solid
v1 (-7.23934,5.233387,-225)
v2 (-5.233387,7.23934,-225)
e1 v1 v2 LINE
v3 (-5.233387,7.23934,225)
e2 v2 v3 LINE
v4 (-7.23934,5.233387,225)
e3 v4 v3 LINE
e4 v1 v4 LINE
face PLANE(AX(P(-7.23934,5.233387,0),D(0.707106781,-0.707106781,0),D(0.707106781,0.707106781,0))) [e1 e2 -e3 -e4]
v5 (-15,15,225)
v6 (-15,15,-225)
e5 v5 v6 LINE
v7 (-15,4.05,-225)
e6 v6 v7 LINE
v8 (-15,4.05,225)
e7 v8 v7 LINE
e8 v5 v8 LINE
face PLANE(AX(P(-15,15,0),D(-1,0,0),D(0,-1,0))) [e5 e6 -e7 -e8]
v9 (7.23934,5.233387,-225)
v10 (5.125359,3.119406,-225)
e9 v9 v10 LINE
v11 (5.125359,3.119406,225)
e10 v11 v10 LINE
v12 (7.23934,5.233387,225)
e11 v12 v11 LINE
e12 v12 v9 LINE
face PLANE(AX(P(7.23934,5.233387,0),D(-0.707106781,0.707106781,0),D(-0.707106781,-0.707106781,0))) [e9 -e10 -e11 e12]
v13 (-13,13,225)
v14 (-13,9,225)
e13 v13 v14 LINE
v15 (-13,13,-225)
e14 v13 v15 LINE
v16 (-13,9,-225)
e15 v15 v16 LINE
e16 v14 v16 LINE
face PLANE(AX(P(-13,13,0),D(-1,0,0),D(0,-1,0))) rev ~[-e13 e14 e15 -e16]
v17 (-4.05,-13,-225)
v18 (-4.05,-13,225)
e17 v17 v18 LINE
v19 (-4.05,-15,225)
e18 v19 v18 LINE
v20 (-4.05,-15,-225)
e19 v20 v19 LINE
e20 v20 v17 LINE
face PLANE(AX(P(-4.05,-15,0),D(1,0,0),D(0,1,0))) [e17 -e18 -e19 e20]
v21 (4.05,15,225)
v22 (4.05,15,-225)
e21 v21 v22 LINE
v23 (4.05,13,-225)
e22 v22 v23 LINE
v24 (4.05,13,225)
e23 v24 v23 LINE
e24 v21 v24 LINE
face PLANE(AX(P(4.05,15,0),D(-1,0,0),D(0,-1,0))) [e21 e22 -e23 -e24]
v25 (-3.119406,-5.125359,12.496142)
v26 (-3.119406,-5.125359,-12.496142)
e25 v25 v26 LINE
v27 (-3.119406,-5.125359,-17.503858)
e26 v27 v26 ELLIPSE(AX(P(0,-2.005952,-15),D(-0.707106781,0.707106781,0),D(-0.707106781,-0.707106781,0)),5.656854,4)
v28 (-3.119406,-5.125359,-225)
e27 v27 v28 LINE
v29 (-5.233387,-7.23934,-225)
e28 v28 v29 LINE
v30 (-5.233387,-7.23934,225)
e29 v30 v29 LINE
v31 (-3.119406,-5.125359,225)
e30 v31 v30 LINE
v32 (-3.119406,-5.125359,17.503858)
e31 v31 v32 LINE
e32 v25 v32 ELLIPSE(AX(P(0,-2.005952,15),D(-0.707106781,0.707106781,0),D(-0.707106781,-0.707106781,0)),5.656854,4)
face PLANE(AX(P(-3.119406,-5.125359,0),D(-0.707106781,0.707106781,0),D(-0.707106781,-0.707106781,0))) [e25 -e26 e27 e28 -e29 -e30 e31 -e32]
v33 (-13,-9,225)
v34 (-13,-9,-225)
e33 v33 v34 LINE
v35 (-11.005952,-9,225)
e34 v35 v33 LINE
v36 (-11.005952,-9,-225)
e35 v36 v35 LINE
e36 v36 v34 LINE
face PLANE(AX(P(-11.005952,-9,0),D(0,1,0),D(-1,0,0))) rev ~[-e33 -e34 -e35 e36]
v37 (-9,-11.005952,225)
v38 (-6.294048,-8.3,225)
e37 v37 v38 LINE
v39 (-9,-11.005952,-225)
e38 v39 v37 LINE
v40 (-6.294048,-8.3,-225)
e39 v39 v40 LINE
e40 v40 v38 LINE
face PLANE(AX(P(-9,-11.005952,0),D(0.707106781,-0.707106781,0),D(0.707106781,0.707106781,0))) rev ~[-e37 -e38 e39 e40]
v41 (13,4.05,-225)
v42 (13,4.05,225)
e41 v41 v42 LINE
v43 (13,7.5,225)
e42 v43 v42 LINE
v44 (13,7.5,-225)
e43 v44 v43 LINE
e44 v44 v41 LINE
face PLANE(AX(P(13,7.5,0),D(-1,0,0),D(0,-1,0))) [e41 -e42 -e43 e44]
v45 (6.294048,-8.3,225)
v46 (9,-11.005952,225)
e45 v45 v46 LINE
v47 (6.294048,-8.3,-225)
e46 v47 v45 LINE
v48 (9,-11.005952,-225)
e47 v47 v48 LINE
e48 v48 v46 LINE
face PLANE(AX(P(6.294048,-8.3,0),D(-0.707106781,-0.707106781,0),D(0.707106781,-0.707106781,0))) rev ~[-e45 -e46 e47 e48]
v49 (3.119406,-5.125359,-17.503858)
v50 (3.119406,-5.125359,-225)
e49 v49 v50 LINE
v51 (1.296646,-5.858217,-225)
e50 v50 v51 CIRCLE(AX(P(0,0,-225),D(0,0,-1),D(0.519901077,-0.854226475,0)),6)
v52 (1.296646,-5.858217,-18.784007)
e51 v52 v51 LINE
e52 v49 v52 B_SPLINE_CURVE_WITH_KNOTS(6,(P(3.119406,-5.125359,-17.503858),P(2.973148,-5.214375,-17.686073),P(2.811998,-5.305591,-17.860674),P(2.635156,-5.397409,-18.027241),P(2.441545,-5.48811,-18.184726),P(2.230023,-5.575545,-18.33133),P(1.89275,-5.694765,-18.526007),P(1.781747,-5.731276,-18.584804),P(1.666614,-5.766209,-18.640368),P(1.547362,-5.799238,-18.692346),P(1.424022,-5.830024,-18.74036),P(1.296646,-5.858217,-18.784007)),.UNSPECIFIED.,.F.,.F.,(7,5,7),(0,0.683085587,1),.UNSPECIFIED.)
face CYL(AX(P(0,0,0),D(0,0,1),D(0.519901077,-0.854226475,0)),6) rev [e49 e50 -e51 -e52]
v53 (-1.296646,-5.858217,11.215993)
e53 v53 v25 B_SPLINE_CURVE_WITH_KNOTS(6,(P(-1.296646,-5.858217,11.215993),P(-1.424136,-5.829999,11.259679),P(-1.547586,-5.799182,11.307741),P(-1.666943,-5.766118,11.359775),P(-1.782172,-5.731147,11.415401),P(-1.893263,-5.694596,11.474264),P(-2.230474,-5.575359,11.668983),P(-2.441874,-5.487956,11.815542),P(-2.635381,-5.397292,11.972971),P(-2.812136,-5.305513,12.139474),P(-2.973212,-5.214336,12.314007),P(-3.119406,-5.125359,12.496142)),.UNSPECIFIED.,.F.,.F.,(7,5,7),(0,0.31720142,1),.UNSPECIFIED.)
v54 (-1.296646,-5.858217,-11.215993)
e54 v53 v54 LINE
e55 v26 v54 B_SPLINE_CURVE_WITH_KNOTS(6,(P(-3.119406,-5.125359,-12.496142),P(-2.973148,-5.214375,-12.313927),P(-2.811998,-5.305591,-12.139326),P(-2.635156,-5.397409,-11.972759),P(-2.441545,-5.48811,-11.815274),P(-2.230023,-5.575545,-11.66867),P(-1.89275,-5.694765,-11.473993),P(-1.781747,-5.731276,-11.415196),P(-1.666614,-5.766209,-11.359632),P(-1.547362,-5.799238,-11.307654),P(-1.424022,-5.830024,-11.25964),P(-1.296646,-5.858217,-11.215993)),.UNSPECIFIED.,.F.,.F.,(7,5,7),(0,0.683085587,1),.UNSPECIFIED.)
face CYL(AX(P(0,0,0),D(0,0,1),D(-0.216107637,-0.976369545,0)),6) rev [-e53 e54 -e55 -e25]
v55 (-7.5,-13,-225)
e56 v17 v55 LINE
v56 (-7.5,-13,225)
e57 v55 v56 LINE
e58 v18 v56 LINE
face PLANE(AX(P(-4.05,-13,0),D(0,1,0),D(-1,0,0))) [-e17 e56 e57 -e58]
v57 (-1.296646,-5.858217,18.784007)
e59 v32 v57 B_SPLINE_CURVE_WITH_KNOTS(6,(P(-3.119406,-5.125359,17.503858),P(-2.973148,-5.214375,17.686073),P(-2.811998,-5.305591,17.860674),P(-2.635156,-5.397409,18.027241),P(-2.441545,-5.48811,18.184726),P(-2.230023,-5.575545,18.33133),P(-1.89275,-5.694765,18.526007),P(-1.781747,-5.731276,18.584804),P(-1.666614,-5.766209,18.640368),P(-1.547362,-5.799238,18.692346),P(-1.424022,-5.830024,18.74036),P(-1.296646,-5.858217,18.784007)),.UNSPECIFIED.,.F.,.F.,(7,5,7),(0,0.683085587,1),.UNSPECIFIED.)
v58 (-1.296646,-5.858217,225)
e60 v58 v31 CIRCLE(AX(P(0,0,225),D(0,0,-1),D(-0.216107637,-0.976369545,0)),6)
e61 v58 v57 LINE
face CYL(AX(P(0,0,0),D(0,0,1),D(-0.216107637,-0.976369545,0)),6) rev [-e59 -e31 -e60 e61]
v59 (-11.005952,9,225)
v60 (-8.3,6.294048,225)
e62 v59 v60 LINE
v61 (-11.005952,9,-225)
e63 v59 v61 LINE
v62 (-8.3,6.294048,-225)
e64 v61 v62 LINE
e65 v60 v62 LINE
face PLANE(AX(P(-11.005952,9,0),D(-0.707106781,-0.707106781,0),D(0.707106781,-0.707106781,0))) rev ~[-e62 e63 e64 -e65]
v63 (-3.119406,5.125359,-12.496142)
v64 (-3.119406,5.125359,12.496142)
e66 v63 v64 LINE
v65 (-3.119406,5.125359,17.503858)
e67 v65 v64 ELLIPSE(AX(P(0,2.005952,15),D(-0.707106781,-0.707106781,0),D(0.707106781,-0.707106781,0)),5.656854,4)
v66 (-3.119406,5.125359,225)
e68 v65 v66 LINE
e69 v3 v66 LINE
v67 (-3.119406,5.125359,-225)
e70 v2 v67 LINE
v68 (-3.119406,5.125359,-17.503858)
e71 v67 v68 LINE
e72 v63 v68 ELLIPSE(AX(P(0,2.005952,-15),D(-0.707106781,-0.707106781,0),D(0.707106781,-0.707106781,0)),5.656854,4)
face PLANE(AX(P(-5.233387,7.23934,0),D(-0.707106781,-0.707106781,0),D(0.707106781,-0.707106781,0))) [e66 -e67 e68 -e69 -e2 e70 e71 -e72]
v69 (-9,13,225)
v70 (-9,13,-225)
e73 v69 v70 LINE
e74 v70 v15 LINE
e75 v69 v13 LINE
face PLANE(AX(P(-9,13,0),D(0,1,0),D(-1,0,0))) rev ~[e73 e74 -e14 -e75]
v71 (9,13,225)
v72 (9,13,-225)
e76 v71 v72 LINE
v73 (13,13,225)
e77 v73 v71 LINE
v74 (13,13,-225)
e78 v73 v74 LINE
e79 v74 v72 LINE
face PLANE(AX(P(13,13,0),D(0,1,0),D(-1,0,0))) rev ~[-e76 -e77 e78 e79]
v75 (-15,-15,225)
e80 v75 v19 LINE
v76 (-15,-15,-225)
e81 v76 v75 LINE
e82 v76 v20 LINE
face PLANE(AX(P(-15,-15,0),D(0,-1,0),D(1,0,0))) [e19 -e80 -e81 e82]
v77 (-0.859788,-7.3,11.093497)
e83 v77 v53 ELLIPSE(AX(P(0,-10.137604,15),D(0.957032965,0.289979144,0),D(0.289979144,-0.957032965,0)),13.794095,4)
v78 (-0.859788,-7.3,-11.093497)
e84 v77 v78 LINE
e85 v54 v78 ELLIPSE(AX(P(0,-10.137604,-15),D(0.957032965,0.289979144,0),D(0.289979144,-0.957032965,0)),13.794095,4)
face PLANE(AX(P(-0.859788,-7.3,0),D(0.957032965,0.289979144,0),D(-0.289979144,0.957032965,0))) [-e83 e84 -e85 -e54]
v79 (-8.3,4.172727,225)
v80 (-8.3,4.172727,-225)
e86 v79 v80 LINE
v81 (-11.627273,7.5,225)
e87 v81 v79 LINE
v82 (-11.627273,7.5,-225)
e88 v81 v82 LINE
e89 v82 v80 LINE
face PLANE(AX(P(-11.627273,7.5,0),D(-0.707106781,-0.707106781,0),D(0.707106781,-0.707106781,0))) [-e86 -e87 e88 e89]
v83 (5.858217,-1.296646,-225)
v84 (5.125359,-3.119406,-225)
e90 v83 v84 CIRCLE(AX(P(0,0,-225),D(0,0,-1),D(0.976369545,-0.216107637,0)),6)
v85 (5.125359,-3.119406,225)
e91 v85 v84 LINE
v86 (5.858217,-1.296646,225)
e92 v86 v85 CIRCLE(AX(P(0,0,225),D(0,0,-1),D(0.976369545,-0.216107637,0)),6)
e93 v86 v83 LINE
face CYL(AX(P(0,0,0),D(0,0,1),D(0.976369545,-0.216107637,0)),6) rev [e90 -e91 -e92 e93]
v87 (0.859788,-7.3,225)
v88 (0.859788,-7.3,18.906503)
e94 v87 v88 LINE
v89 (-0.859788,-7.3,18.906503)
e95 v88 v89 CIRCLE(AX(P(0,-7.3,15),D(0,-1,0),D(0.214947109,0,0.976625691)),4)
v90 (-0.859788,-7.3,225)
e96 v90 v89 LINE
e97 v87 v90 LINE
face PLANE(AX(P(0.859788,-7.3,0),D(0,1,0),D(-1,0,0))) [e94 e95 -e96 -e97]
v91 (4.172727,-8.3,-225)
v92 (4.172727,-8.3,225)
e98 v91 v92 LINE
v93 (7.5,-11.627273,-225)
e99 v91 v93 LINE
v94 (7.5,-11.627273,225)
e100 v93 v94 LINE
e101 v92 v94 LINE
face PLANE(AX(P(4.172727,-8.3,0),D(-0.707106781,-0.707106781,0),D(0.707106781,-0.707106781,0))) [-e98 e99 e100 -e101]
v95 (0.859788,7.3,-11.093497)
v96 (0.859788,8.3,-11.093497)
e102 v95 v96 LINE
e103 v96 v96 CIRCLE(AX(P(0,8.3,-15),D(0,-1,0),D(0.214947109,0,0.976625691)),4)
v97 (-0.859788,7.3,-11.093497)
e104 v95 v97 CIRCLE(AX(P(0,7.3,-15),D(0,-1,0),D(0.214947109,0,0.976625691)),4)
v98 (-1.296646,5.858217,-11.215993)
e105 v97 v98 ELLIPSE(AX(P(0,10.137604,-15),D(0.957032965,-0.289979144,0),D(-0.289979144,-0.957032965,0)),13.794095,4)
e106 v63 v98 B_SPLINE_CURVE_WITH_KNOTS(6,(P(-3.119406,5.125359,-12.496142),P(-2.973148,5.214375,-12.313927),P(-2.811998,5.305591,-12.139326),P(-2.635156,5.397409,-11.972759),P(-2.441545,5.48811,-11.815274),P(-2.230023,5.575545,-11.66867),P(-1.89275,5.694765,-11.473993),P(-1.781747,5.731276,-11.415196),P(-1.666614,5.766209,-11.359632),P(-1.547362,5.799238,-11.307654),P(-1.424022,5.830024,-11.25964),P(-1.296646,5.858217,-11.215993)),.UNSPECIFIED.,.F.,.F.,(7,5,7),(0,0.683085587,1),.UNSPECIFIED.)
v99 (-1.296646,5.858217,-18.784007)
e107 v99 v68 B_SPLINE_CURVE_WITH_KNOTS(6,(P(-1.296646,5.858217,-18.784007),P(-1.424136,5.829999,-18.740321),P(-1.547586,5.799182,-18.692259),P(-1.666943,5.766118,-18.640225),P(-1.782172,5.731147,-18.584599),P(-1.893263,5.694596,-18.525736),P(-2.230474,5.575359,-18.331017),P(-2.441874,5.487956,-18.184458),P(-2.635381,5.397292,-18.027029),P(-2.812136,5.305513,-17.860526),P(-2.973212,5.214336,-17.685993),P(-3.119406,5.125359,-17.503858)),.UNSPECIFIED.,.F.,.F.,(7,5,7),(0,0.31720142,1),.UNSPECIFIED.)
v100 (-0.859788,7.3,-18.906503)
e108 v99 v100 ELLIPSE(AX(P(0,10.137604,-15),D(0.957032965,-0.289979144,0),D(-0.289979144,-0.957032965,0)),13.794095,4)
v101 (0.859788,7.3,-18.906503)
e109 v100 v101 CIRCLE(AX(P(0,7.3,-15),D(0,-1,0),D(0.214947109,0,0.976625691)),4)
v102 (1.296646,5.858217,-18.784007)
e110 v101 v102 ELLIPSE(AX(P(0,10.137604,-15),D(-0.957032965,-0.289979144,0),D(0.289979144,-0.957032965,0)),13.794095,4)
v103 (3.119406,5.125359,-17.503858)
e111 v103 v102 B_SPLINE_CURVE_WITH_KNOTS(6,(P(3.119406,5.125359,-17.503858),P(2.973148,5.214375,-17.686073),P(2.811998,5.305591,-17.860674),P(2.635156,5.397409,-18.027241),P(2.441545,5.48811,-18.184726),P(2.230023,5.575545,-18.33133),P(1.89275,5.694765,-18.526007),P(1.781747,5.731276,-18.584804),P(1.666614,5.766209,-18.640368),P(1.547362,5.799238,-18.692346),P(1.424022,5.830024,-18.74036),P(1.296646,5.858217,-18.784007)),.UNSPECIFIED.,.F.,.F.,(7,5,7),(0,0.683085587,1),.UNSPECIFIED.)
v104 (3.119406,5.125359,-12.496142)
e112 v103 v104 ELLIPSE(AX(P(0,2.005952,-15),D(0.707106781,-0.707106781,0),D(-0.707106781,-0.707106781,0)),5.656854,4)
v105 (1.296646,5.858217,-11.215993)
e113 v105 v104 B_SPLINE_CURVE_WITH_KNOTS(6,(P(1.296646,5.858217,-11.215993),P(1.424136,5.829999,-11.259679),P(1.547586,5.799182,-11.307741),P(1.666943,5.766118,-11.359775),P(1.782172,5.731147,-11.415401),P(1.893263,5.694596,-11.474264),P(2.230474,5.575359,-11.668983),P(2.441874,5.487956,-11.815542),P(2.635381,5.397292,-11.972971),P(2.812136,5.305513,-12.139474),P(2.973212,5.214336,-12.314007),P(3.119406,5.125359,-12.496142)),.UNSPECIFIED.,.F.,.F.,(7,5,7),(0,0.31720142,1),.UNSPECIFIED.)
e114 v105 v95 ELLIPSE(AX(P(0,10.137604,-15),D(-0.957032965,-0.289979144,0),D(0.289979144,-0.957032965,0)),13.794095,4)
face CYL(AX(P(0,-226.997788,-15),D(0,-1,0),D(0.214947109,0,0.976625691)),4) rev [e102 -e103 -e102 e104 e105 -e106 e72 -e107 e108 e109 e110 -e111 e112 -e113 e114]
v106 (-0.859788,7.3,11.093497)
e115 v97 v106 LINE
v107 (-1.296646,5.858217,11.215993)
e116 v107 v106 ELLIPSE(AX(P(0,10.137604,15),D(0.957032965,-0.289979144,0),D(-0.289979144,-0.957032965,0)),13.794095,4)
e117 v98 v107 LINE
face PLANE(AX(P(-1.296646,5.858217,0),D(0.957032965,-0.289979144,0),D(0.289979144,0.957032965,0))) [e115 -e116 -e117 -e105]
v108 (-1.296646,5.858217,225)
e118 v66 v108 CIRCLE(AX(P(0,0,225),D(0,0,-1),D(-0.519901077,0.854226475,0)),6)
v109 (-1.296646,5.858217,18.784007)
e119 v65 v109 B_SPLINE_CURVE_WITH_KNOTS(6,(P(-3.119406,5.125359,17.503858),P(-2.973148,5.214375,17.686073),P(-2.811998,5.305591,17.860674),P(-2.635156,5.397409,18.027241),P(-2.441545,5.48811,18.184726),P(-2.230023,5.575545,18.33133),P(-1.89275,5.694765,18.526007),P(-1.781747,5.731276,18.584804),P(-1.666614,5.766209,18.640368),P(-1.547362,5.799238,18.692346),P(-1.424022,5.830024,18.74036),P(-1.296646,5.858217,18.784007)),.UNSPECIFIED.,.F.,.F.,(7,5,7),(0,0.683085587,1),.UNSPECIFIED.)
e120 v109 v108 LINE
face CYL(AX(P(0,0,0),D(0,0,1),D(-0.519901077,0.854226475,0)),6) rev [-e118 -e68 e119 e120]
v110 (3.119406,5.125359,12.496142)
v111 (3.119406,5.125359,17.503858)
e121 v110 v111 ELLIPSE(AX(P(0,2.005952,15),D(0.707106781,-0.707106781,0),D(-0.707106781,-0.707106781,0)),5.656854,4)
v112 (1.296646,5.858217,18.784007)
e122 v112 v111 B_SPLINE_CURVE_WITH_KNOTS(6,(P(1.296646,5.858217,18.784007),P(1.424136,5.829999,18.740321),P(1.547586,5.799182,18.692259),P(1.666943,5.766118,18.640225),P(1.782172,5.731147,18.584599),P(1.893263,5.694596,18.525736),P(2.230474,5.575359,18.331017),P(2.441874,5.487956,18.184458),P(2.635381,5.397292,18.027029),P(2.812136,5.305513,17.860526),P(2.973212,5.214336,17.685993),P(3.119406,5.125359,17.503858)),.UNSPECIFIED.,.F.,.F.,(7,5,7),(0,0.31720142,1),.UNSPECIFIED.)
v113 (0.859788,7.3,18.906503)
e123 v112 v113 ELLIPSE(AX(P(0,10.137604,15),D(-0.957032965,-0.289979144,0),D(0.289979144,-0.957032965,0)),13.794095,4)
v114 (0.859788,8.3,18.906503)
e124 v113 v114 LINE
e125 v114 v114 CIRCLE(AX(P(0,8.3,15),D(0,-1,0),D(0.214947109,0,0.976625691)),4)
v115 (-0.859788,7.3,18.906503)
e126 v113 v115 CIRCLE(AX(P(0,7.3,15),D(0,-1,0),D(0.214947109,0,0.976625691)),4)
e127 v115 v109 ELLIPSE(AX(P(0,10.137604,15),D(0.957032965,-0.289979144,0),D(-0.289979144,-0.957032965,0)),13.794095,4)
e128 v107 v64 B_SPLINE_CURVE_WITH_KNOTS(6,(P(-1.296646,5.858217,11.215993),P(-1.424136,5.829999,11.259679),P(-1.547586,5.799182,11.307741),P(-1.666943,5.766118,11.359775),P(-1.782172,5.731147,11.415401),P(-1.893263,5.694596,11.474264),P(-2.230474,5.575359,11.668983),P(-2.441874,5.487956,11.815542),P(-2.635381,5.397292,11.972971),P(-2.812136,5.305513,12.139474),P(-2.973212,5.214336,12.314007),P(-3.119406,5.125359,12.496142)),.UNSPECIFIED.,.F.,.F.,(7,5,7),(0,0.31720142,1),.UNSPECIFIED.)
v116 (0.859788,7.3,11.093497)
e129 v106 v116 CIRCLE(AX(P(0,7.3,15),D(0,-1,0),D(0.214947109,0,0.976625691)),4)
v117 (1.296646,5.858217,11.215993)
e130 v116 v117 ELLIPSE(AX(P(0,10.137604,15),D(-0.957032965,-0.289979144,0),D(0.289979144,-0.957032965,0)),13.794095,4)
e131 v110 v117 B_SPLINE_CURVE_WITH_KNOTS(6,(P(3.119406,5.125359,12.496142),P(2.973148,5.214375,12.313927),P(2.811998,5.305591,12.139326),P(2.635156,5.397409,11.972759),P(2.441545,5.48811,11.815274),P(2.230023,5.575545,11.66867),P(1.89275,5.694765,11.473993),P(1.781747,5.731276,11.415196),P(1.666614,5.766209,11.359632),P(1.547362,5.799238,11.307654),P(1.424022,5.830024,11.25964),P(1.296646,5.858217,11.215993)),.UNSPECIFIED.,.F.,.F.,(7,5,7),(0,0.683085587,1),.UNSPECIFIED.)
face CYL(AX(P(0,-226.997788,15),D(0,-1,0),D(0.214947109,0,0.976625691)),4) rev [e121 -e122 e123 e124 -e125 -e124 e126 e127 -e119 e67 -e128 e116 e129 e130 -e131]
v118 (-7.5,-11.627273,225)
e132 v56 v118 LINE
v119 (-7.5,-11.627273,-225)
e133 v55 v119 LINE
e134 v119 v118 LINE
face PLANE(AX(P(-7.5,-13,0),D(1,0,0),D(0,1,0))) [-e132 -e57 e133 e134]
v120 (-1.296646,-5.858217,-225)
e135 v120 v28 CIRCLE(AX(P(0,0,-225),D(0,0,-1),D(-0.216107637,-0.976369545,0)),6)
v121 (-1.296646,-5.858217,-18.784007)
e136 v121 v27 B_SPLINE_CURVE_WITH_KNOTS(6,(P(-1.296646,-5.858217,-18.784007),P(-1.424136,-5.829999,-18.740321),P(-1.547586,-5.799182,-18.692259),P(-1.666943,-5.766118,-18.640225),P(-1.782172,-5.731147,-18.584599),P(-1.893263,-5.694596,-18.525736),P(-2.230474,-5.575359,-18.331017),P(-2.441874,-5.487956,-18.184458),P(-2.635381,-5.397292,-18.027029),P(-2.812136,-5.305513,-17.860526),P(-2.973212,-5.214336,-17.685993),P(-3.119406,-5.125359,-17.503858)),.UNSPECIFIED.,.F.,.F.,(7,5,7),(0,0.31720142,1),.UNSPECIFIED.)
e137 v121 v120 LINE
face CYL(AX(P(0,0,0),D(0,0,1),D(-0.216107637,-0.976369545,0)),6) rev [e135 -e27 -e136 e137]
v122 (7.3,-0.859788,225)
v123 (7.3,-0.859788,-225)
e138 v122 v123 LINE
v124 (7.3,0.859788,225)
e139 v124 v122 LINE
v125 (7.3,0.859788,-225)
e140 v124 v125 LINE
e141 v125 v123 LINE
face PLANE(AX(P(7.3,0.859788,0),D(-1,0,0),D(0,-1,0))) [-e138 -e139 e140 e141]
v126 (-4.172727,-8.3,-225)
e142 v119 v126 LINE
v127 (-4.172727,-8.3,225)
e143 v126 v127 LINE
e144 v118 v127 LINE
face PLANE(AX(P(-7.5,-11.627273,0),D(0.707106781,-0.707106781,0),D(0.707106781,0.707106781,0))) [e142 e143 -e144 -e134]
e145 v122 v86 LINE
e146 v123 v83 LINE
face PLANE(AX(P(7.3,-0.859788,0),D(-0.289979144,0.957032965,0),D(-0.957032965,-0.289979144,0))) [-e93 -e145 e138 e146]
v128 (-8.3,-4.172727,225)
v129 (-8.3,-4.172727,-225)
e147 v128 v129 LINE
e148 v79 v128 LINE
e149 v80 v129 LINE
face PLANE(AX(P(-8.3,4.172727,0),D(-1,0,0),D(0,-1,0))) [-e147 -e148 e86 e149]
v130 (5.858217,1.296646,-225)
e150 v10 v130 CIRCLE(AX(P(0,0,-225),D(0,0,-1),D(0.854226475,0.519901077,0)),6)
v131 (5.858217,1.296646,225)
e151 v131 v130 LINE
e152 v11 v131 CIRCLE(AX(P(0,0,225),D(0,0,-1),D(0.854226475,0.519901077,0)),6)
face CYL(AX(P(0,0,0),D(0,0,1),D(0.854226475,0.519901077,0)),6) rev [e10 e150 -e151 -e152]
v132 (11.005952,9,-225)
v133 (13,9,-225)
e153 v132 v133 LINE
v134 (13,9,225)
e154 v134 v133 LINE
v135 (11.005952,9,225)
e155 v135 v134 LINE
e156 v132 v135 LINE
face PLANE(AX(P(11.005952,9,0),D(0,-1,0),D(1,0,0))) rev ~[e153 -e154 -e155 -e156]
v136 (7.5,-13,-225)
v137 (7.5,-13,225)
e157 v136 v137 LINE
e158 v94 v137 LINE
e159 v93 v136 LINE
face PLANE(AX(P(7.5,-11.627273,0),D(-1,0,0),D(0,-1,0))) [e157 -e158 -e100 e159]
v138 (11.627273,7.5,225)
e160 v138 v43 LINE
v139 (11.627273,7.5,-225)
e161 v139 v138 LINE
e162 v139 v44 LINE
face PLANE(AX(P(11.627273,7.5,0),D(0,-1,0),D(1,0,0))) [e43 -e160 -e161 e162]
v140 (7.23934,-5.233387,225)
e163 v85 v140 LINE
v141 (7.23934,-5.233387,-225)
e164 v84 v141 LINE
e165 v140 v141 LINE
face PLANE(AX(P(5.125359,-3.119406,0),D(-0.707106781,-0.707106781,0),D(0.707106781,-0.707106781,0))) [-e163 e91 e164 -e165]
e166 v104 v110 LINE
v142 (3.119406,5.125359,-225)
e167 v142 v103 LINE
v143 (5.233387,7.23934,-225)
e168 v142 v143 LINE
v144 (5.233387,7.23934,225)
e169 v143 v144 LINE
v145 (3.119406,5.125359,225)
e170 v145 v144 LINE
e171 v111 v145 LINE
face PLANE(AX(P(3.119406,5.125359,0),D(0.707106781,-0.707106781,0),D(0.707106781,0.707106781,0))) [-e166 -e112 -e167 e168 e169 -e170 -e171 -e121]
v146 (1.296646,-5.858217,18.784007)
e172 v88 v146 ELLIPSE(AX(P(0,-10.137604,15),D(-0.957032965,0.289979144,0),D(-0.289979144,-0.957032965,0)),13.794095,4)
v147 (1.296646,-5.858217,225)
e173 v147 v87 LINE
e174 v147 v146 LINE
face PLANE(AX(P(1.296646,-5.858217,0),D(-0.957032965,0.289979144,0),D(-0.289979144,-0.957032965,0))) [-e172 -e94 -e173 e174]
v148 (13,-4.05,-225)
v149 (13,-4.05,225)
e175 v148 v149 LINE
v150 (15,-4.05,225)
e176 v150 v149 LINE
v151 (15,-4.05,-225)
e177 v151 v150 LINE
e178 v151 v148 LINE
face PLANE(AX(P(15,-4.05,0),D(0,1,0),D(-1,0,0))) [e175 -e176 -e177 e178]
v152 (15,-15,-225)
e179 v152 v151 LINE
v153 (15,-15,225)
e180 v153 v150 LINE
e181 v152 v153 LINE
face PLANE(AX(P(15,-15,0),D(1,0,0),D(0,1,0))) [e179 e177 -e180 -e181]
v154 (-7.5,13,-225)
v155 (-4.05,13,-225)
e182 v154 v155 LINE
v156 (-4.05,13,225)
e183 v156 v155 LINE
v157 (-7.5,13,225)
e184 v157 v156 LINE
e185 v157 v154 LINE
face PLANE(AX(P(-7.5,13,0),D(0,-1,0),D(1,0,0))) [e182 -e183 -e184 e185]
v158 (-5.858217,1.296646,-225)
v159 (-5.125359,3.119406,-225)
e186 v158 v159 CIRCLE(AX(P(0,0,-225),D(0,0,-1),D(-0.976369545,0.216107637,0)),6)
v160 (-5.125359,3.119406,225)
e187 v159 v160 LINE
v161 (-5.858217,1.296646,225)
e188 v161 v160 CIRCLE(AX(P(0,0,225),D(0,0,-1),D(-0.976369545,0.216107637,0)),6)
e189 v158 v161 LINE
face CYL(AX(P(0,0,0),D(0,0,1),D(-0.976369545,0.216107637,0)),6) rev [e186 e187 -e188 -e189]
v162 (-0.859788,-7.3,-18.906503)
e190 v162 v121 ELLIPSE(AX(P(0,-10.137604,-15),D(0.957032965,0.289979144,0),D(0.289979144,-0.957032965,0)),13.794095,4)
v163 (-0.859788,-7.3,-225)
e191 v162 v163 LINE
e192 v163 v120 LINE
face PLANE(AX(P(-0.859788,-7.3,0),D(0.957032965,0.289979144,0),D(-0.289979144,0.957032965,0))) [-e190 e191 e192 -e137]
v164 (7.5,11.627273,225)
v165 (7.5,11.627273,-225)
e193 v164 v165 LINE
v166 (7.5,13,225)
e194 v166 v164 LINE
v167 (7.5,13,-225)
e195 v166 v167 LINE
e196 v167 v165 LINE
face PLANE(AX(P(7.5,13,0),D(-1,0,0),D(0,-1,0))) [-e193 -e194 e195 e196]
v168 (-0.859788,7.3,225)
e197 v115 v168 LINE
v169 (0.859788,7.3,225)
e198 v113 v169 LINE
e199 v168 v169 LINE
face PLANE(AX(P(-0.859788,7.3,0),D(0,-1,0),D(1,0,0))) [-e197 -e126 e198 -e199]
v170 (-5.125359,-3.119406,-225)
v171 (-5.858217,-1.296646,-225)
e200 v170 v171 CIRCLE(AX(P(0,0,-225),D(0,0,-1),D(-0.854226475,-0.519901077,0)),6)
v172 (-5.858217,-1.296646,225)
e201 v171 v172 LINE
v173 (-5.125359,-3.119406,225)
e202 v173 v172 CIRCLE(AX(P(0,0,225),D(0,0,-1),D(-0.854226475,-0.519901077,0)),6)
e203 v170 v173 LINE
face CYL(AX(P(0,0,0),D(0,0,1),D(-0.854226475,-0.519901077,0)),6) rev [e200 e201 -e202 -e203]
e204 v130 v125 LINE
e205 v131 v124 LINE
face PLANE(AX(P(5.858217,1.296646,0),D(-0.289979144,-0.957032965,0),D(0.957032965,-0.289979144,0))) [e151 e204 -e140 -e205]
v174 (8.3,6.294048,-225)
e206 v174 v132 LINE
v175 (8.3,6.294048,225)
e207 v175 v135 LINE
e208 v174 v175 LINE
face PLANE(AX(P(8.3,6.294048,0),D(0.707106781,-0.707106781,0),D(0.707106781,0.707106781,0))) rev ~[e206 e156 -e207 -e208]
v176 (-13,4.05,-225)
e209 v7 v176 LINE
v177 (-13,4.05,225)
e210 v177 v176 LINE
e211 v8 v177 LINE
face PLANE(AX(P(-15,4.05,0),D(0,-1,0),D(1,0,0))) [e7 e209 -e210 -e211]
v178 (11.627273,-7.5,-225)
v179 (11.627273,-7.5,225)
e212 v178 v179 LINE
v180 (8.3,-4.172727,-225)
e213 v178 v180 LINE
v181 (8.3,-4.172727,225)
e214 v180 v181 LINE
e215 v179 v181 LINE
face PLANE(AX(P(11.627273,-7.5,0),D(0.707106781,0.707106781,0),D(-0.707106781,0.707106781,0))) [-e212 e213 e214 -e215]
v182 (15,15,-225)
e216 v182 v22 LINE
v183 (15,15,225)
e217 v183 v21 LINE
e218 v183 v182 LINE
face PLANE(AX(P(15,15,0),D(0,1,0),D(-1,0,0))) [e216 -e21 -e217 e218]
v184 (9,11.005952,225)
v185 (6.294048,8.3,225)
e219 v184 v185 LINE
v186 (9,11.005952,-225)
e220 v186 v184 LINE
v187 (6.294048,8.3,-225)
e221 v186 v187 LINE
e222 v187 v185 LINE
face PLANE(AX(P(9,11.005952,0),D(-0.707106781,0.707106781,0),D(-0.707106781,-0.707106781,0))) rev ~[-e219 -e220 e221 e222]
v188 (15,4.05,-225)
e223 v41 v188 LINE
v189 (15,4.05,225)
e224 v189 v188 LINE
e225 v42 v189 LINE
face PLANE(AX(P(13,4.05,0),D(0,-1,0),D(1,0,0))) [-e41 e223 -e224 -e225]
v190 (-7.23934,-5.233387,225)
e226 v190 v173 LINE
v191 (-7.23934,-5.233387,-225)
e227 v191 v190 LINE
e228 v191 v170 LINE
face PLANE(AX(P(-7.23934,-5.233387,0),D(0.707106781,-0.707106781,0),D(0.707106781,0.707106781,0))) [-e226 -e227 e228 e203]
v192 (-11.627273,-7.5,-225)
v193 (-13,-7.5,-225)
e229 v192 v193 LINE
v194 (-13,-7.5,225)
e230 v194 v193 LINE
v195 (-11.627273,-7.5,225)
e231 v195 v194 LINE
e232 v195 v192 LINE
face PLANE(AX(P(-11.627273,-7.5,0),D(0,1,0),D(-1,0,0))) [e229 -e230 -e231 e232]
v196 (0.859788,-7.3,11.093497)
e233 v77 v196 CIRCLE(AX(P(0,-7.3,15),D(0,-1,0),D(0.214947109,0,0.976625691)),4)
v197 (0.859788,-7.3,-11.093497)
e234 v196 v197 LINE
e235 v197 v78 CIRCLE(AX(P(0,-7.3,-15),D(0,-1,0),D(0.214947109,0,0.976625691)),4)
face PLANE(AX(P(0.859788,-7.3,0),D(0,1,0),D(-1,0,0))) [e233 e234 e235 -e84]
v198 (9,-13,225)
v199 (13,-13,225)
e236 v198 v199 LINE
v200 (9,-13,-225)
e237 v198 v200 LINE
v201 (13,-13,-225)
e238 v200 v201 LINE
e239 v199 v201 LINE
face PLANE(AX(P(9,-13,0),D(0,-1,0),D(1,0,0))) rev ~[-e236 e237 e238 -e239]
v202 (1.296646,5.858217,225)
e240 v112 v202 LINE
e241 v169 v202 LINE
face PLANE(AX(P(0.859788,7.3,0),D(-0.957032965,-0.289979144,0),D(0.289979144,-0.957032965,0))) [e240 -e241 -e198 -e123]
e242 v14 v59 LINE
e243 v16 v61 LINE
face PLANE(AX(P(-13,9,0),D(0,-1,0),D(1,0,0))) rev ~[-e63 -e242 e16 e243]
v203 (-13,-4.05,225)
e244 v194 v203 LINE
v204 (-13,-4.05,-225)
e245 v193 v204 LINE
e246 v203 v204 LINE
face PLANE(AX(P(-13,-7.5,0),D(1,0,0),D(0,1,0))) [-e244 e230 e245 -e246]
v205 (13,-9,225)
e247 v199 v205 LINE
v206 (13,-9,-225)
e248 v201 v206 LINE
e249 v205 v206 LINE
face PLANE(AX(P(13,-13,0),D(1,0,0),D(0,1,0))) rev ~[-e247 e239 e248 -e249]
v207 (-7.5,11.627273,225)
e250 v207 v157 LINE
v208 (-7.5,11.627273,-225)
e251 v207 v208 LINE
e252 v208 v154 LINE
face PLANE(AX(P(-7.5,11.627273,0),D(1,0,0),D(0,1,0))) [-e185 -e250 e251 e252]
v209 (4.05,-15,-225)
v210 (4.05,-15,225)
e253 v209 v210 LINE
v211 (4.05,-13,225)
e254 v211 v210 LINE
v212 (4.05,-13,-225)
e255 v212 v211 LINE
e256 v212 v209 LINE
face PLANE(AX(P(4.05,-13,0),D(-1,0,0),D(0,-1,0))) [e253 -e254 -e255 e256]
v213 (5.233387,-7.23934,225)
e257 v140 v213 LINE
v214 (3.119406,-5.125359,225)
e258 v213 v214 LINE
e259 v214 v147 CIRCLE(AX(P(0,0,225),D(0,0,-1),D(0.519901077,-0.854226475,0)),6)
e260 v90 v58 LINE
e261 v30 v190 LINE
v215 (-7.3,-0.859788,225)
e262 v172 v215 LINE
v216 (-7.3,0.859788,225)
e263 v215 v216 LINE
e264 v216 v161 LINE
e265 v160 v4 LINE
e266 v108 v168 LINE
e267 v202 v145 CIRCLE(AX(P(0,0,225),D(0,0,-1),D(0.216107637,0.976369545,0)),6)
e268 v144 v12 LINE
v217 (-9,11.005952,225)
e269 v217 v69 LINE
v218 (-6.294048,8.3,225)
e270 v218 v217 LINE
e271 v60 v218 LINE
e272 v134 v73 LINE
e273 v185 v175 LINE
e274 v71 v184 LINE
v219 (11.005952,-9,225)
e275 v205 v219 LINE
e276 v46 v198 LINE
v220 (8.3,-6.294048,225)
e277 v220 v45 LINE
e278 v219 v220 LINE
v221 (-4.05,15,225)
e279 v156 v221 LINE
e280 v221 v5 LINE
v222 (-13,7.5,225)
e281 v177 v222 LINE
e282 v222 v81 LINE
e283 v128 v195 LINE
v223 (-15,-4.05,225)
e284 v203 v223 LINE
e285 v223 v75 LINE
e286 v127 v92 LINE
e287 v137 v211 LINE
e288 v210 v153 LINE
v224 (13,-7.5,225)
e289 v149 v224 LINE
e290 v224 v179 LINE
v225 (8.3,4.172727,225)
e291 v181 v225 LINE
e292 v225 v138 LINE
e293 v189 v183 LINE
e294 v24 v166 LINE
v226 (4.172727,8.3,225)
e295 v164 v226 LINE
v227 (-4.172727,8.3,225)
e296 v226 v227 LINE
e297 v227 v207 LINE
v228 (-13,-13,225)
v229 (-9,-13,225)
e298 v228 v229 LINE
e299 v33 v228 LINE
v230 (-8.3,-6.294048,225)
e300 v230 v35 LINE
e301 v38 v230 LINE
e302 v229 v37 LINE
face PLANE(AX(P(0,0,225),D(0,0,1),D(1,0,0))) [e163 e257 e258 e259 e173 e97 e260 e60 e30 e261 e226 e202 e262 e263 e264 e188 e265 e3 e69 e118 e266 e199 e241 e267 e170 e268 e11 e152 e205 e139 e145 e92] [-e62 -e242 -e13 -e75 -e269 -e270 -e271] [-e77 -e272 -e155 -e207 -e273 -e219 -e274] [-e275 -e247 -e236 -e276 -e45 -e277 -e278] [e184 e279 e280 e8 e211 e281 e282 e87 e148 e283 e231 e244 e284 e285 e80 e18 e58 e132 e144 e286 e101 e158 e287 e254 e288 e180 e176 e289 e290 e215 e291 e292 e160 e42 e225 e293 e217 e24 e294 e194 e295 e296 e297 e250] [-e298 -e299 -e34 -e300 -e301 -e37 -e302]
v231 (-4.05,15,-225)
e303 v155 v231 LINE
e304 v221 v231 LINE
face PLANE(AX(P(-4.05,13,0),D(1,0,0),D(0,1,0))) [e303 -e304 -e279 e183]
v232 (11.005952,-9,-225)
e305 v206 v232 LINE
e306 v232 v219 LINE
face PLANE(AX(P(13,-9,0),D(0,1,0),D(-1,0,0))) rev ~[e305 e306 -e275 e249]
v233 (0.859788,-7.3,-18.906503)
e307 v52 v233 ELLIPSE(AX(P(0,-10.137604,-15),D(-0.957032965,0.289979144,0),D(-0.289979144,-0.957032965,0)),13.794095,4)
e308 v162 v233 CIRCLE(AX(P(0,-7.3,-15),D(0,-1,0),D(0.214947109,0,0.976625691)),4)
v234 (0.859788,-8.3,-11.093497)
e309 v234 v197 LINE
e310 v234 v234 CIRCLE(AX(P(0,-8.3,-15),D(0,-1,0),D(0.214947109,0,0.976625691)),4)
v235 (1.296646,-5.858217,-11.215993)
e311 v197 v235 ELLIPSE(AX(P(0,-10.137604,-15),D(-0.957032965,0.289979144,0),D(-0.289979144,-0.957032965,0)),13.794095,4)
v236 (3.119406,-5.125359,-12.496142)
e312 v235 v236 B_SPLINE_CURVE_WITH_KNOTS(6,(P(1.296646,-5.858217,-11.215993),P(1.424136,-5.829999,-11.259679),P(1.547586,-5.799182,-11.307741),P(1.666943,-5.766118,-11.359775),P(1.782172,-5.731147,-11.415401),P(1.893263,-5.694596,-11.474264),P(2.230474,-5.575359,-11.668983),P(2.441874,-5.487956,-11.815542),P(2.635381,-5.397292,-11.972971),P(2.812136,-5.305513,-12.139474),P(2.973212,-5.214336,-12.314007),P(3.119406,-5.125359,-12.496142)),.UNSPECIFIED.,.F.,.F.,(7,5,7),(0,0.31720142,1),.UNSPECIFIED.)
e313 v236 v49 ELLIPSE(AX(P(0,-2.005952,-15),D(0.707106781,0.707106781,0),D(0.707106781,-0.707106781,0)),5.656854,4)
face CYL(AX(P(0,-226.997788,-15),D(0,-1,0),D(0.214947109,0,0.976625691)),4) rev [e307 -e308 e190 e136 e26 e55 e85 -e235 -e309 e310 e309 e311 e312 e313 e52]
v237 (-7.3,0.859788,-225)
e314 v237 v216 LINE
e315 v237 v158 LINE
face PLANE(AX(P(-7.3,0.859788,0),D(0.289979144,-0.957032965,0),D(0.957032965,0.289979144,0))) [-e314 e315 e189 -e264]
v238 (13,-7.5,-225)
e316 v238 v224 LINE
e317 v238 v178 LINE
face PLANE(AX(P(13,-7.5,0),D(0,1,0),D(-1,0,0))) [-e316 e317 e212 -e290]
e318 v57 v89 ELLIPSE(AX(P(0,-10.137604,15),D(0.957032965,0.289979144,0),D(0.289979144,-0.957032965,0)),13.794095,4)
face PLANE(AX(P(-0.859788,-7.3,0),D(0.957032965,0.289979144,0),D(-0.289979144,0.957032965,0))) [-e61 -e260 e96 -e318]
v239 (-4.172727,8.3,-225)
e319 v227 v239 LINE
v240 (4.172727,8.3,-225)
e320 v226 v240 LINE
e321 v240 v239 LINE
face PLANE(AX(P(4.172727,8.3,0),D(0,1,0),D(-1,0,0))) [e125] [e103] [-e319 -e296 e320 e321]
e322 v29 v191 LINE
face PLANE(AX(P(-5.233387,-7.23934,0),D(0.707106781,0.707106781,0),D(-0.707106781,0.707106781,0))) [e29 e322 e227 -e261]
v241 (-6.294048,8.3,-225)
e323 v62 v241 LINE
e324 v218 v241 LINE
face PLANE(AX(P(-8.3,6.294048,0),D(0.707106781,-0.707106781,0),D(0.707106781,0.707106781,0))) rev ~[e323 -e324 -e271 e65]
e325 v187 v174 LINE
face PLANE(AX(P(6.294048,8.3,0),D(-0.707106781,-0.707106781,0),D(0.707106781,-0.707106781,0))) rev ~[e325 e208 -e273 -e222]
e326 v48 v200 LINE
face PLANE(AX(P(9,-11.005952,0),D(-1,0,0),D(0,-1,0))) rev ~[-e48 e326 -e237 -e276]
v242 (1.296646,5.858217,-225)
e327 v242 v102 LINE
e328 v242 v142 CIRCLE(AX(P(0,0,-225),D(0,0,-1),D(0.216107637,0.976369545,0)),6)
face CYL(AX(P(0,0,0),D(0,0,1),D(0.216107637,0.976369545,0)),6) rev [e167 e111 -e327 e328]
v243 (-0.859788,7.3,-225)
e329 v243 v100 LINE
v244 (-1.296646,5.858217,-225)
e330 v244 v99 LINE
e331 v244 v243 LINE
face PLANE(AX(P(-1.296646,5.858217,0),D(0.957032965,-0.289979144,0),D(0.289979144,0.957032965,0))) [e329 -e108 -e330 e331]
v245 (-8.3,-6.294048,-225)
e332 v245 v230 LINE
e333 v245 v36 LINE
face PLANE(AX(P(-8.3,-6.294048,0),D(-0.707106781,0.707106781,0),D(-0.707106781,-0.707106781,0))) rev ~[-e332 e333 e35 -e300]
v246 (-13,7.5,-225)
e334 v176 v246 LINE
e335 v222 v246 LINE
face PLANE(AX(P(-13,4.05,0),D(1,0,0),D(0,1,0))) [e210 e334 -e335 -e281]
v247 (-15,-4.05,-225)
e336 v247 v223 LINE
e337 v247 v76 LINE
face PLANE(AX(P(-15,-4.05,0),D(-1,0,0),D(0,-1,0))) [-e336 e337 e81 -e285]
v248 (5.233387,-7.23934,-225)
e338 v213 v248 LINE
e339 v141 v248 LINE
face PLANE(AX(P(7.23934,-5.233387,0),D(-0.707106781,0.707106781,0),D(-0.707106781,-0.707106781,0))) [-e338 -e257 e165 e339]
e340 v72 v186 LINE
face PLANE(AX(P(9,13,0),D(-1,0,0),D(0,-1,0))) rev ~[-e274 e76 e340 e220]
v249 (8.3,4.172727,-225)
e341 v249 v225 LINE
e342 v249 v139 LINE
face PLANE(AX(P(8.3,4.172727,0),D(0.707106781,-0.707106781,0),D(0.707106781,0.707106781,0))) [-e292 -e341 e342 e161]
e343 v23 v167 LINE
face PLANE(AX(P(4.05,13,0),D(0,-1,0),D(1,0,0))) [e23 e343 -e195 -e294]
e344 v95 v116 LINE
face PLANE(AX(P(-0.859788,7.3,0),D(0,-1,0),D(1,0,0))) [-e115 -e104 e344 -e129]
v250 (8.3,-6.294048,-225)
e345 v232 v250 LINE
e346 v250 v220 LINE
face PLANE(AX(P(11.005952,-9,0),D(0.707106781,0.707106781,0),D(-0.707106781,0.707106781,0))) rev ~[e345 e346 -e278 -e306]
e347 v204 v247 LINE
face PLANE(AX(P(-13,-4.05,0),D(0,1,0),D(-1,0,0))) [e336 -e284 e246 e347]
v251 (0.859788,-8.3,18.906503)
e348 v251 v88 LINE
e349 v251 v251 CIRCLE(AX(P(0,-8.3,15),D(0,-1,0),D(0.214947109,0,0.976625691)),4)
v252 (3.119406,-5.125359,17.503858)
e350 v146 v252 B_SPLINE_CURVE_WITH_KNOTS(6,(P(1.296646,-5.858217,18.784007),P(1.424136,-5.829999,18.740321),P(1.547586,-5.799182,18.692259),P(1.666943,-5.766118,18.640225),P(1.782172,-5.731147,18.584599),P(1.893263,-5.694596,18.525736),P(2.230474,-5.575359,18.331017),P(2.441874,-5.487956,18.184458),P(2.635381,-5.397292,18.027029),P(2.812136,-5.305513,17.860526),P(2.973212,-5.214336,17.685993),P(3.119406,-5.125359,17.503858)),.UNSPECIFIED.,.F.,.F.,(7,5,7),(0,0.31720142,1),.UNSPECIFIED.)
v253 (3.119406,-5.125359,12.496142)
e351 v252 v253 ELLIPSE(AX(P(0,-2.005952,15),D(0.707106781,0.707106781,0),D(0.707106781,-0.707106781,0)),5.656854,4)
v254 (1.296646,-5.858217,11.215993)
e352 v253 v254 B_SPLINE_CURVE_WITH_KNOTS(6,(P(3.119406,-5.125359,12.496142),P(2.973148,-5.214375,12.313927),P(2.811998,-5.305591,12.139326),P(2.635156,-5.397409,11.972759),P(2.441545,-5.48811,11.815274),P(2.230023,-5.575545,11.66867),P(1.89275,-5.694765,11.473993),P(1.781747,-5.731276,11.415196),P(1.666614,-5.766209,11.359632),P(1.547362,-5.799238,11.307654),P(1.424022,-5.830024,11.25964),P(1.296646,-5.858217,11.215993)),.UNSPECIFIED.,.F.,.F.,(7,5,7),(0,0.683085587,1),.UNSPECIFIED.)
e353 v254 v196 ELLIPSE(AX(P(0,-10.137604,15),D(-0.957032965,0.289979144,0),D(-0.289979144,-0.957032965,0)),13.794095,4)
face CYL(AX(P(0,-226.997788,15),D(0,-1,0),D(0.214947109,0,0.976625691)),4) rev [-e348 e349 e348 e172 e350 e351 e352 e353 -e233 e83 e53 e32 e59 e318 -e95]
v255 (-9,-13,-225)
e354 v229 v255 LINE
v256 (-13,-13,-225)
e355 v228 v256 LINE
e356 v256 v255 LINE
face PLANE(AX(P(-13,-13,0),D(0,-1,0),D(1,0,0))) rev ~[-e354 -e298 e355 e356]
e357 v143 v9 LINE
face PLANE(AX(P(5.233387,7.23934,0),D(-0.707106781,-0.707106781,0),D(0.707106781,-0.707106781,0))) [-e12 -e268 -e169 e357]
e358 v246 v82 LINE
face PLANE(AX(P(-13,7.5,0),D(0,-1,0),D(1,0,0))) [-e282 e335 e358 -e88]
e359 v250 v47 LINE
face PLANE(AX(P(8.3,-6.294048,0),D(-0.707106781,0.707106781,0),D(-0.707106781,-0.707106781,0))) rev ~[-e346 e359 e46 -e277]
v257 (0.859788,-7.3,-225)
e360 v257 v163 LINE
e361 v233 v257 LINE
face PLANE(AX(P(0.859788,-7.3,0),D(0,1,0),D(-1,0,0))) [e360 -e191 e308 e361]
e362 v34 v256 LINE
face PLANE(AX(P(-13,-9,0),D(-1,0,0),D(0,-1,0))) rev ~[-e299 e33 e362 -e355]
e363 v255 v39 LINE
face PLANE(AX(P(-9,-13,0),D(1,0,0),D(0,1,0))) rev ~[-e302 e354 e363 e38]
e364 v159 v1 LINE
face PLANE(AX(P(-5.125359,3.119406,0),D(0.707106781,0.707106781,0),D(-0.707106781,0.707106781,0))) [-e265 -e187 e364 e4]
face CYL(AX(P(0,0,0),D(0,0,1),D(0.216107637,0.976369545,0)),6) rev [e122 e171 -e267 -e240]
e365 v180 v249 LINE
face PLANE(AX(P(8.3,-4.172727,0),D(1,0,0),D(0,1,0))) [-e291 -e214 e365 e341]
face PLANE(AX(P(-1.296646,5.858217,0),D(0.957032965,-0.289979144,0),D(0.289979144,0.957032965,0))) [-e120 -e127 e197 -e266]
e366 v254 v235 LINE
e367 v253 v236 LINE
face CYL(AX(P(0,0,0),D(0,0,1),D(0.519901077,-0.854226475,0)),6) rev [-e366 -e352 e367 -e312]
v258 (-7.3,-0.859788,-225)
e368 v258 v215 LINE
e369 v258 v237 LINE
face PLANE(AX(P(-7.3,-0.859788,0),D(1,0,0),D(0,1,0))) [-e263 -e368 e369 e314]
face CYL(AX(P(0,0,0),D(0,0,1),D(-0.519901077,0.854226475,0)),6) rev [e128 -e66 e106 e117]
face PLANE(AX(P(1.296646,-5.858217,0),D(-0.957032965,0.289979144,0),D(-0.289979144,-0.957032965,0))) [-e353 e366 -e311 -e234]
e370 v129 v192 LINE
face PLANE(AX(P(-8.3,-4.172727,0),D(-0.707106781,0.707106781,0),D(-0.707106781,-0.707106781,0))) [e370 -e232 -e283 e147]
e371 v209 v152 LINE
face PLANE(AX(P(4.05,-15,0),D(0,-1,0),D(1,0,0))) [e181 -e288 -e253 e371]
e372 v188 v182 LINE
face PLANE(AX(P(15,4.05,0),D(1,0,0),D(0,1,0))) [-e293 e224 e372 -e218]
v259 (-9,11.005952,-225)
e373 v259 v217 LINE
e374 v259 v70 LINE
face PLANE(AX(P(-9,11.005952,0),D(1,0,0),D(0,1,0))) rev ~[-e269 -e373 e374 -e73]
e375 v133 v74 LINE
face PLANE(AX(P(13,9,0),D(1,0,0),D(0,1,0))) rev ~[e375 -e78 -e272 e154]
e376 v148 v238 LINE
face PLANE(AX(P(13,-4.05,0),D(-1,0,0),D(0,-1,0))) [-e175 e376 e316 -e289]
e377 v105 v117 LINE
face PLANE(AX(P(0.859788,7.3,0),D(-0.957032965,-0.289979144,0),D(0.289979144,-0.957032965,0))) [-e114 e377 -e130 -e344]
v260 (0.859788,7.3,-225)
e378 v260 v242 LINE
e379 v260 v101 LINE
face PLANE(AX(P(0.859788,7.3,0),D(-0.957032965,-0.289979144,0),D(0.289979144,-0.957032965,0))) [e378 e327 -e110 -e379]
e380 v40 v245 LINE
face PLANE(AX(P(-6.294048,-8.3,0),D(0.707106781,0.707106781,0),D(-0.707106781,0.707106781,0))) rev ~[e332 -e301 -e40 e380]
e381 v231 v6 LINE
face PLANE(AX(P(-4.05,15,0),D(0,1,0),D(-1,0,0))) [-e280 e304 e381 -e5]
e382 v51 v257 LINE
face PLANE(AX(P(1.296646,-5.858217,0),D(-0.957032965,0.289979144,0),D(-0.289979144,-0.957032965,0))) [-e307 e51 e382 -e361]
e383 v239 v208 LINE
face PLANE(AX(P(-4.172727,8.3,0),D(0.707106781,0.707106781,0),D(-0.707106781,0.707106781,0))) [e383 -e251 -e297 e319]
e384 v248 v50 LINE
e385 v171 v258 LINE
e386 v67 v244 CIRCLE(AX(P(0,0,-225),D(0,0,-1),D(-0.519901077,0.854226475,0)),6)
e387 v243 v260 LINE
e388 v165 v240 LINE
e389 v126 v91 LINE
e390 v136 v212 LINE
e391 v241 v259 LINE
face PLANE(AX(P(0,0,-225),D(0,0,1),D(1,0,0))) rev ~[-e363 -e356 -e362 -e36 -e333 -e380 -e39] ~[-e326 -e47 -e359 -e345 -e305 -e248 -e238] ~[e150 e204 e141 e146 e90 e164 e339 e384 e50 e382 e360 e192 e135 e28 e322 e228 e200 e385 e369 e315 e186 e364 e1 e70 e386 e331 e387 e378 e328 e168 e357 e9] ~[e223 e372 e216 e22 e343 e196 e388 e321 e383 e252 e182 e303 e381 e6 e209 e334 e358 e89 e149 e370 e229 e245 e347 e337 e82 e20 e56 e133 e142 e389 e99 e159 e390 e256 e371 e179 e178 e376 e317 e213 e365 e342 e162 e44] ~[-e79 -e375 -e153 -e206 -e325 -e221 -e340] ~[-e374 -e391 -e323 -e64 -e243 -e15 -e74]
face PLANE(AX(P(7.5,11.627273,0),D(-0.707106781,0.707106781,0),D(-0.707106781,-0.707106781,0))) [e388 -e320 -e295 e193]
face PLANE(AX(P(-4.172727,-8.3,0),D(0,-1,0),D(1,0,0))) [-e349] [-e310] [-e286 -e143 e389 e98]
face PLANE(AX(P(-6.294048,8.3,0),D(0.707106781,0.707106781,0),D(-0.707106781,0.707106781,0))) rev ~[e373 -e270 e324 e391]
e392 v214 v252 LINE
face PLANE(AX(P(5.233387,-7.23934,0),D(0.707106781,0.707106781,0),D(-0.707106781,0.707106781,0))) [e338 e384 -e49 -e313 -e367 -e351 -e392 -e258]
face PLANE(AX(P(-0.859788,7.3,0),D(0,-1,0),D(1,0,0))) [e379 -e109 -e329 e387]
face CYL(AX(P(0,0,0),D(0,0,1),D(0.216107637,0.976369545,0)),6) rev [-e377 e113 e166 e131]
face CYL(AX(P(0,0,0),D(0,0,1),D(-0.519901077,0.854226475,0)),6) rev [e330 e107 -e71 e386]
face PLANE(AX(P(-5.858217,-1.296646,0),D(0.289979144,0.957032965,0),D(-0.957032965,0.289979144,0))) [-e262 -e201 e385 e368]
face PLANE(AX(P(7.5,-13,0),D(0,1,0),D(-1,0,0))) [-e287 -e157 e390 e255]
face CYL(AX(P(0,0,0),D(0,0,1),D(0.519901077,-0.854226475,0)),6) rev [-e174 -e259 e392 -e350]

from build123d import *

# Parameters (mm, degrees)
RESSALTO_EXTRUS_O1_DEPTH   = 225
CORTE_EXTRUS_O1_DEPTH      = 226.9977876
CORTE_EXTRUS_O1_DEPTH_BACK = 226.9977876
ESBO_O2_R                  = 4


with BuildPart() as part:
    # Esboço1 → Ressalto-extrusão1 (new, symmetric)
    with BuildSketch(Plane.XY):
        Polygon((-13, -4.05), (-15, -4.05), (-15, -15), (-4.05, -15), (-4.05, -13), (-7.5, -13), (-7.5, -11.627272727), (-4.172727273, -8.3), (4.172727273, -8.3), (7.5, -11.627272727), (7.5, -13), (4.05, -13), (4.05, -15), (15, -15), (15, -4.05), (13, -4.05), (13, -7.5), (11.627272727, -7.5), (8.3, -4.172727273), (8.3, 4.172727273), (11.627272727, 7.5), (13, 7.5), (13, 4.05), (15, 4.05), (15, 15), (4.05, 15), (4.05, 13), (7.5, 13), (7.5, 11.627272727), (4.172727273, 8.3), (-4.172727273, 8.3), (-7.5, 11.627272727), (-7.5, 13), (-4.05, 13), (-4.05, 15), (-15, 15), (-15, 4.05), (-13, 4.05), (-13, 7.5), (-11.627272727, 7.5), (-8.3, 4.172727273), (-8.3, -4.172727273), (-11.627272727, -7.5), (-13, -7.5), align=None)
        with BuildLine():
            Line((-7.239339828, -5.233387445), (-5.125358847, -3.119406464))
            ThreePointArc((-5.125358847, -3.119406464), (-5.566897716, -2.238224702), (-5.858217272, -1.296645823))
            Line((-5.858217272, -1.296645823), (-7.3, -0.859788435))
            Line((-7.3, -0.859788435), (-7.3, 0.859788435))
            Line((-7.3, 0.859788435), (-5.858217272, 1.296645823))
            ThreePointArc((-5.858217272, 1.296645823), (-5.566897716, 2.238224702), (-5.125358847, 3.119406464))
            Line((-5.125358847, 3.119406464), (-7.239339828, 5.233387445))
            Line((-7.239339828, 5.233387445), (-5.233387445, 7.239339828))
            Line((-5.233387445, 7.239339828), (-3.119406464, 5.125358847))
            ThreePointArc((-3.119406464, 5.125358847), (-2.238224702, 5.566897716), (-1.296645823, 5.858217272))
            Line((-1.296645823, 5.858217272), (-0.859788435, 7.3))
            Line((-0.859788435, 7.3), (0.859788435, 7.3))
            Line((0.859788435, 7.3), (1.296645823, 5.858217272))
            ThreePointArc((1.296645823, 5.858217272), (2.238224702, 5.566897716), (3.119406464, 5.125358847))
            Line((3.119406464, 5.125358847), (5.233387445, 7.239339828))
            Line((5.233387445, 7.239339828), (7.239339828, 5.233387445))
            Line((7.239339828, 5.233387445), (5.125358847, 3.119406464))
            ThreePointArc((5.125358847, 3.119406464), (5.566897716, 2.238224702), (5.858217272, 1.296645823))
            Line((5.858217272, 1.296645823), (7.3, 0.859788435))
            Line((7.3, 0.859788435), (7.3, -0.859788435))
            Line((7.3, -0.859788435), (5.858217272, -1.296645823))
            ThreePointArc((5.858217272, -1.296645823), (5.566897716, -2.238224702), (5.125358847, -3.119406464))
            Line((5.125358847, -3.119406464), (7.239339828, -5.233387445))
            Line((7.239339828, -5.233387445), (5.233387445, -7.239339828))
            Line((5.233387445, -7.239339828), (3.119406464, -5.125358847))
            ThreePointArc((3.119406464, -5.125358847), (2.238224702, -5.566897716), (1.296645823, -5.858217272))
            Line((1.296645823, -5.858217272), (0.859788435, -7.3))
            Line((0.859788435, -7.3), (-0.859788435, -7.3))
            Line((-0.859788435, -7.3), (-1.296645823, -5.858217272))
            ThreePointArc((-1.296645823, -5.858217272), (-2.238224702, -5.566897716), (-3.119406464, -5.125358847))
            Line((-3.119406464, -5.125358847), (-5.233387445, -7.239339828))
            Line((-5.233387445, -7.239339828), (-7.239339828, -5.233387445))
        make_face(mode=Mode.SUBTRACT)
        Polygon((-11.005952384, -9), (-13, -9), (-13, -13), (-9, -13), (-9, -11.005952384), (-6.294047616, -8.3), (-8.3, -6.294047616), align=None, mode=Mode.SUBTRACT)
        Polygon((9, -11.005952384), (9, -13), (13, -13), (13, -9), (11.005952384, -9), (8.3, -6.294047616), (6.294047616, -8.3), align=None, mode=Mode.SUBTRACT)
        Polygon((11.005952384, 9), (13, 9), (13, 13), (9, 13), (9, 11.005952384), (6.294047616, 8.3), (8.3, 6.294047616), align=None, mode=Mode.SUBTRACT)
        Polygon((-9, 11.005952384), (-9, 13), (-13, 13), (-13, 9), (-11.005952384, 9), (-8.3, 6.294047616), (-6.294047616, 8.3), align=None, mode=Mode.SUBTRACT)
    extrude(amount=RESSALTO_EXTRUS_O1_DEPTH, both=True)

    # Esboço2 → Corte-extrusão1 (cut, two sides: drawn at the far end of the back side and taken through both)
    with BuildSketch(Plane(origin=(0, 0, 0), x_dir=(1, 0, 0), z_dir=(0, 1, 0)).offset(-CORTE_EXTRUS_O1_DEPTH_BACK)):
        with Locations(Location((0, -15, 0), (0, 0, 282.412424309))):
            Circle(ESBO_O2_R)
        with Locations(Location((0, 15, 0), (0, 0, 282.412424309))):
            Circle(ESBO_O2_R)
    extrude(amount=CORTE_EXTRUS_O1_DEPTH + CORTE_EXTRUS_O1_DEPTH_BACK, mode=Mode.SUBTRACT)


solid = part.part
